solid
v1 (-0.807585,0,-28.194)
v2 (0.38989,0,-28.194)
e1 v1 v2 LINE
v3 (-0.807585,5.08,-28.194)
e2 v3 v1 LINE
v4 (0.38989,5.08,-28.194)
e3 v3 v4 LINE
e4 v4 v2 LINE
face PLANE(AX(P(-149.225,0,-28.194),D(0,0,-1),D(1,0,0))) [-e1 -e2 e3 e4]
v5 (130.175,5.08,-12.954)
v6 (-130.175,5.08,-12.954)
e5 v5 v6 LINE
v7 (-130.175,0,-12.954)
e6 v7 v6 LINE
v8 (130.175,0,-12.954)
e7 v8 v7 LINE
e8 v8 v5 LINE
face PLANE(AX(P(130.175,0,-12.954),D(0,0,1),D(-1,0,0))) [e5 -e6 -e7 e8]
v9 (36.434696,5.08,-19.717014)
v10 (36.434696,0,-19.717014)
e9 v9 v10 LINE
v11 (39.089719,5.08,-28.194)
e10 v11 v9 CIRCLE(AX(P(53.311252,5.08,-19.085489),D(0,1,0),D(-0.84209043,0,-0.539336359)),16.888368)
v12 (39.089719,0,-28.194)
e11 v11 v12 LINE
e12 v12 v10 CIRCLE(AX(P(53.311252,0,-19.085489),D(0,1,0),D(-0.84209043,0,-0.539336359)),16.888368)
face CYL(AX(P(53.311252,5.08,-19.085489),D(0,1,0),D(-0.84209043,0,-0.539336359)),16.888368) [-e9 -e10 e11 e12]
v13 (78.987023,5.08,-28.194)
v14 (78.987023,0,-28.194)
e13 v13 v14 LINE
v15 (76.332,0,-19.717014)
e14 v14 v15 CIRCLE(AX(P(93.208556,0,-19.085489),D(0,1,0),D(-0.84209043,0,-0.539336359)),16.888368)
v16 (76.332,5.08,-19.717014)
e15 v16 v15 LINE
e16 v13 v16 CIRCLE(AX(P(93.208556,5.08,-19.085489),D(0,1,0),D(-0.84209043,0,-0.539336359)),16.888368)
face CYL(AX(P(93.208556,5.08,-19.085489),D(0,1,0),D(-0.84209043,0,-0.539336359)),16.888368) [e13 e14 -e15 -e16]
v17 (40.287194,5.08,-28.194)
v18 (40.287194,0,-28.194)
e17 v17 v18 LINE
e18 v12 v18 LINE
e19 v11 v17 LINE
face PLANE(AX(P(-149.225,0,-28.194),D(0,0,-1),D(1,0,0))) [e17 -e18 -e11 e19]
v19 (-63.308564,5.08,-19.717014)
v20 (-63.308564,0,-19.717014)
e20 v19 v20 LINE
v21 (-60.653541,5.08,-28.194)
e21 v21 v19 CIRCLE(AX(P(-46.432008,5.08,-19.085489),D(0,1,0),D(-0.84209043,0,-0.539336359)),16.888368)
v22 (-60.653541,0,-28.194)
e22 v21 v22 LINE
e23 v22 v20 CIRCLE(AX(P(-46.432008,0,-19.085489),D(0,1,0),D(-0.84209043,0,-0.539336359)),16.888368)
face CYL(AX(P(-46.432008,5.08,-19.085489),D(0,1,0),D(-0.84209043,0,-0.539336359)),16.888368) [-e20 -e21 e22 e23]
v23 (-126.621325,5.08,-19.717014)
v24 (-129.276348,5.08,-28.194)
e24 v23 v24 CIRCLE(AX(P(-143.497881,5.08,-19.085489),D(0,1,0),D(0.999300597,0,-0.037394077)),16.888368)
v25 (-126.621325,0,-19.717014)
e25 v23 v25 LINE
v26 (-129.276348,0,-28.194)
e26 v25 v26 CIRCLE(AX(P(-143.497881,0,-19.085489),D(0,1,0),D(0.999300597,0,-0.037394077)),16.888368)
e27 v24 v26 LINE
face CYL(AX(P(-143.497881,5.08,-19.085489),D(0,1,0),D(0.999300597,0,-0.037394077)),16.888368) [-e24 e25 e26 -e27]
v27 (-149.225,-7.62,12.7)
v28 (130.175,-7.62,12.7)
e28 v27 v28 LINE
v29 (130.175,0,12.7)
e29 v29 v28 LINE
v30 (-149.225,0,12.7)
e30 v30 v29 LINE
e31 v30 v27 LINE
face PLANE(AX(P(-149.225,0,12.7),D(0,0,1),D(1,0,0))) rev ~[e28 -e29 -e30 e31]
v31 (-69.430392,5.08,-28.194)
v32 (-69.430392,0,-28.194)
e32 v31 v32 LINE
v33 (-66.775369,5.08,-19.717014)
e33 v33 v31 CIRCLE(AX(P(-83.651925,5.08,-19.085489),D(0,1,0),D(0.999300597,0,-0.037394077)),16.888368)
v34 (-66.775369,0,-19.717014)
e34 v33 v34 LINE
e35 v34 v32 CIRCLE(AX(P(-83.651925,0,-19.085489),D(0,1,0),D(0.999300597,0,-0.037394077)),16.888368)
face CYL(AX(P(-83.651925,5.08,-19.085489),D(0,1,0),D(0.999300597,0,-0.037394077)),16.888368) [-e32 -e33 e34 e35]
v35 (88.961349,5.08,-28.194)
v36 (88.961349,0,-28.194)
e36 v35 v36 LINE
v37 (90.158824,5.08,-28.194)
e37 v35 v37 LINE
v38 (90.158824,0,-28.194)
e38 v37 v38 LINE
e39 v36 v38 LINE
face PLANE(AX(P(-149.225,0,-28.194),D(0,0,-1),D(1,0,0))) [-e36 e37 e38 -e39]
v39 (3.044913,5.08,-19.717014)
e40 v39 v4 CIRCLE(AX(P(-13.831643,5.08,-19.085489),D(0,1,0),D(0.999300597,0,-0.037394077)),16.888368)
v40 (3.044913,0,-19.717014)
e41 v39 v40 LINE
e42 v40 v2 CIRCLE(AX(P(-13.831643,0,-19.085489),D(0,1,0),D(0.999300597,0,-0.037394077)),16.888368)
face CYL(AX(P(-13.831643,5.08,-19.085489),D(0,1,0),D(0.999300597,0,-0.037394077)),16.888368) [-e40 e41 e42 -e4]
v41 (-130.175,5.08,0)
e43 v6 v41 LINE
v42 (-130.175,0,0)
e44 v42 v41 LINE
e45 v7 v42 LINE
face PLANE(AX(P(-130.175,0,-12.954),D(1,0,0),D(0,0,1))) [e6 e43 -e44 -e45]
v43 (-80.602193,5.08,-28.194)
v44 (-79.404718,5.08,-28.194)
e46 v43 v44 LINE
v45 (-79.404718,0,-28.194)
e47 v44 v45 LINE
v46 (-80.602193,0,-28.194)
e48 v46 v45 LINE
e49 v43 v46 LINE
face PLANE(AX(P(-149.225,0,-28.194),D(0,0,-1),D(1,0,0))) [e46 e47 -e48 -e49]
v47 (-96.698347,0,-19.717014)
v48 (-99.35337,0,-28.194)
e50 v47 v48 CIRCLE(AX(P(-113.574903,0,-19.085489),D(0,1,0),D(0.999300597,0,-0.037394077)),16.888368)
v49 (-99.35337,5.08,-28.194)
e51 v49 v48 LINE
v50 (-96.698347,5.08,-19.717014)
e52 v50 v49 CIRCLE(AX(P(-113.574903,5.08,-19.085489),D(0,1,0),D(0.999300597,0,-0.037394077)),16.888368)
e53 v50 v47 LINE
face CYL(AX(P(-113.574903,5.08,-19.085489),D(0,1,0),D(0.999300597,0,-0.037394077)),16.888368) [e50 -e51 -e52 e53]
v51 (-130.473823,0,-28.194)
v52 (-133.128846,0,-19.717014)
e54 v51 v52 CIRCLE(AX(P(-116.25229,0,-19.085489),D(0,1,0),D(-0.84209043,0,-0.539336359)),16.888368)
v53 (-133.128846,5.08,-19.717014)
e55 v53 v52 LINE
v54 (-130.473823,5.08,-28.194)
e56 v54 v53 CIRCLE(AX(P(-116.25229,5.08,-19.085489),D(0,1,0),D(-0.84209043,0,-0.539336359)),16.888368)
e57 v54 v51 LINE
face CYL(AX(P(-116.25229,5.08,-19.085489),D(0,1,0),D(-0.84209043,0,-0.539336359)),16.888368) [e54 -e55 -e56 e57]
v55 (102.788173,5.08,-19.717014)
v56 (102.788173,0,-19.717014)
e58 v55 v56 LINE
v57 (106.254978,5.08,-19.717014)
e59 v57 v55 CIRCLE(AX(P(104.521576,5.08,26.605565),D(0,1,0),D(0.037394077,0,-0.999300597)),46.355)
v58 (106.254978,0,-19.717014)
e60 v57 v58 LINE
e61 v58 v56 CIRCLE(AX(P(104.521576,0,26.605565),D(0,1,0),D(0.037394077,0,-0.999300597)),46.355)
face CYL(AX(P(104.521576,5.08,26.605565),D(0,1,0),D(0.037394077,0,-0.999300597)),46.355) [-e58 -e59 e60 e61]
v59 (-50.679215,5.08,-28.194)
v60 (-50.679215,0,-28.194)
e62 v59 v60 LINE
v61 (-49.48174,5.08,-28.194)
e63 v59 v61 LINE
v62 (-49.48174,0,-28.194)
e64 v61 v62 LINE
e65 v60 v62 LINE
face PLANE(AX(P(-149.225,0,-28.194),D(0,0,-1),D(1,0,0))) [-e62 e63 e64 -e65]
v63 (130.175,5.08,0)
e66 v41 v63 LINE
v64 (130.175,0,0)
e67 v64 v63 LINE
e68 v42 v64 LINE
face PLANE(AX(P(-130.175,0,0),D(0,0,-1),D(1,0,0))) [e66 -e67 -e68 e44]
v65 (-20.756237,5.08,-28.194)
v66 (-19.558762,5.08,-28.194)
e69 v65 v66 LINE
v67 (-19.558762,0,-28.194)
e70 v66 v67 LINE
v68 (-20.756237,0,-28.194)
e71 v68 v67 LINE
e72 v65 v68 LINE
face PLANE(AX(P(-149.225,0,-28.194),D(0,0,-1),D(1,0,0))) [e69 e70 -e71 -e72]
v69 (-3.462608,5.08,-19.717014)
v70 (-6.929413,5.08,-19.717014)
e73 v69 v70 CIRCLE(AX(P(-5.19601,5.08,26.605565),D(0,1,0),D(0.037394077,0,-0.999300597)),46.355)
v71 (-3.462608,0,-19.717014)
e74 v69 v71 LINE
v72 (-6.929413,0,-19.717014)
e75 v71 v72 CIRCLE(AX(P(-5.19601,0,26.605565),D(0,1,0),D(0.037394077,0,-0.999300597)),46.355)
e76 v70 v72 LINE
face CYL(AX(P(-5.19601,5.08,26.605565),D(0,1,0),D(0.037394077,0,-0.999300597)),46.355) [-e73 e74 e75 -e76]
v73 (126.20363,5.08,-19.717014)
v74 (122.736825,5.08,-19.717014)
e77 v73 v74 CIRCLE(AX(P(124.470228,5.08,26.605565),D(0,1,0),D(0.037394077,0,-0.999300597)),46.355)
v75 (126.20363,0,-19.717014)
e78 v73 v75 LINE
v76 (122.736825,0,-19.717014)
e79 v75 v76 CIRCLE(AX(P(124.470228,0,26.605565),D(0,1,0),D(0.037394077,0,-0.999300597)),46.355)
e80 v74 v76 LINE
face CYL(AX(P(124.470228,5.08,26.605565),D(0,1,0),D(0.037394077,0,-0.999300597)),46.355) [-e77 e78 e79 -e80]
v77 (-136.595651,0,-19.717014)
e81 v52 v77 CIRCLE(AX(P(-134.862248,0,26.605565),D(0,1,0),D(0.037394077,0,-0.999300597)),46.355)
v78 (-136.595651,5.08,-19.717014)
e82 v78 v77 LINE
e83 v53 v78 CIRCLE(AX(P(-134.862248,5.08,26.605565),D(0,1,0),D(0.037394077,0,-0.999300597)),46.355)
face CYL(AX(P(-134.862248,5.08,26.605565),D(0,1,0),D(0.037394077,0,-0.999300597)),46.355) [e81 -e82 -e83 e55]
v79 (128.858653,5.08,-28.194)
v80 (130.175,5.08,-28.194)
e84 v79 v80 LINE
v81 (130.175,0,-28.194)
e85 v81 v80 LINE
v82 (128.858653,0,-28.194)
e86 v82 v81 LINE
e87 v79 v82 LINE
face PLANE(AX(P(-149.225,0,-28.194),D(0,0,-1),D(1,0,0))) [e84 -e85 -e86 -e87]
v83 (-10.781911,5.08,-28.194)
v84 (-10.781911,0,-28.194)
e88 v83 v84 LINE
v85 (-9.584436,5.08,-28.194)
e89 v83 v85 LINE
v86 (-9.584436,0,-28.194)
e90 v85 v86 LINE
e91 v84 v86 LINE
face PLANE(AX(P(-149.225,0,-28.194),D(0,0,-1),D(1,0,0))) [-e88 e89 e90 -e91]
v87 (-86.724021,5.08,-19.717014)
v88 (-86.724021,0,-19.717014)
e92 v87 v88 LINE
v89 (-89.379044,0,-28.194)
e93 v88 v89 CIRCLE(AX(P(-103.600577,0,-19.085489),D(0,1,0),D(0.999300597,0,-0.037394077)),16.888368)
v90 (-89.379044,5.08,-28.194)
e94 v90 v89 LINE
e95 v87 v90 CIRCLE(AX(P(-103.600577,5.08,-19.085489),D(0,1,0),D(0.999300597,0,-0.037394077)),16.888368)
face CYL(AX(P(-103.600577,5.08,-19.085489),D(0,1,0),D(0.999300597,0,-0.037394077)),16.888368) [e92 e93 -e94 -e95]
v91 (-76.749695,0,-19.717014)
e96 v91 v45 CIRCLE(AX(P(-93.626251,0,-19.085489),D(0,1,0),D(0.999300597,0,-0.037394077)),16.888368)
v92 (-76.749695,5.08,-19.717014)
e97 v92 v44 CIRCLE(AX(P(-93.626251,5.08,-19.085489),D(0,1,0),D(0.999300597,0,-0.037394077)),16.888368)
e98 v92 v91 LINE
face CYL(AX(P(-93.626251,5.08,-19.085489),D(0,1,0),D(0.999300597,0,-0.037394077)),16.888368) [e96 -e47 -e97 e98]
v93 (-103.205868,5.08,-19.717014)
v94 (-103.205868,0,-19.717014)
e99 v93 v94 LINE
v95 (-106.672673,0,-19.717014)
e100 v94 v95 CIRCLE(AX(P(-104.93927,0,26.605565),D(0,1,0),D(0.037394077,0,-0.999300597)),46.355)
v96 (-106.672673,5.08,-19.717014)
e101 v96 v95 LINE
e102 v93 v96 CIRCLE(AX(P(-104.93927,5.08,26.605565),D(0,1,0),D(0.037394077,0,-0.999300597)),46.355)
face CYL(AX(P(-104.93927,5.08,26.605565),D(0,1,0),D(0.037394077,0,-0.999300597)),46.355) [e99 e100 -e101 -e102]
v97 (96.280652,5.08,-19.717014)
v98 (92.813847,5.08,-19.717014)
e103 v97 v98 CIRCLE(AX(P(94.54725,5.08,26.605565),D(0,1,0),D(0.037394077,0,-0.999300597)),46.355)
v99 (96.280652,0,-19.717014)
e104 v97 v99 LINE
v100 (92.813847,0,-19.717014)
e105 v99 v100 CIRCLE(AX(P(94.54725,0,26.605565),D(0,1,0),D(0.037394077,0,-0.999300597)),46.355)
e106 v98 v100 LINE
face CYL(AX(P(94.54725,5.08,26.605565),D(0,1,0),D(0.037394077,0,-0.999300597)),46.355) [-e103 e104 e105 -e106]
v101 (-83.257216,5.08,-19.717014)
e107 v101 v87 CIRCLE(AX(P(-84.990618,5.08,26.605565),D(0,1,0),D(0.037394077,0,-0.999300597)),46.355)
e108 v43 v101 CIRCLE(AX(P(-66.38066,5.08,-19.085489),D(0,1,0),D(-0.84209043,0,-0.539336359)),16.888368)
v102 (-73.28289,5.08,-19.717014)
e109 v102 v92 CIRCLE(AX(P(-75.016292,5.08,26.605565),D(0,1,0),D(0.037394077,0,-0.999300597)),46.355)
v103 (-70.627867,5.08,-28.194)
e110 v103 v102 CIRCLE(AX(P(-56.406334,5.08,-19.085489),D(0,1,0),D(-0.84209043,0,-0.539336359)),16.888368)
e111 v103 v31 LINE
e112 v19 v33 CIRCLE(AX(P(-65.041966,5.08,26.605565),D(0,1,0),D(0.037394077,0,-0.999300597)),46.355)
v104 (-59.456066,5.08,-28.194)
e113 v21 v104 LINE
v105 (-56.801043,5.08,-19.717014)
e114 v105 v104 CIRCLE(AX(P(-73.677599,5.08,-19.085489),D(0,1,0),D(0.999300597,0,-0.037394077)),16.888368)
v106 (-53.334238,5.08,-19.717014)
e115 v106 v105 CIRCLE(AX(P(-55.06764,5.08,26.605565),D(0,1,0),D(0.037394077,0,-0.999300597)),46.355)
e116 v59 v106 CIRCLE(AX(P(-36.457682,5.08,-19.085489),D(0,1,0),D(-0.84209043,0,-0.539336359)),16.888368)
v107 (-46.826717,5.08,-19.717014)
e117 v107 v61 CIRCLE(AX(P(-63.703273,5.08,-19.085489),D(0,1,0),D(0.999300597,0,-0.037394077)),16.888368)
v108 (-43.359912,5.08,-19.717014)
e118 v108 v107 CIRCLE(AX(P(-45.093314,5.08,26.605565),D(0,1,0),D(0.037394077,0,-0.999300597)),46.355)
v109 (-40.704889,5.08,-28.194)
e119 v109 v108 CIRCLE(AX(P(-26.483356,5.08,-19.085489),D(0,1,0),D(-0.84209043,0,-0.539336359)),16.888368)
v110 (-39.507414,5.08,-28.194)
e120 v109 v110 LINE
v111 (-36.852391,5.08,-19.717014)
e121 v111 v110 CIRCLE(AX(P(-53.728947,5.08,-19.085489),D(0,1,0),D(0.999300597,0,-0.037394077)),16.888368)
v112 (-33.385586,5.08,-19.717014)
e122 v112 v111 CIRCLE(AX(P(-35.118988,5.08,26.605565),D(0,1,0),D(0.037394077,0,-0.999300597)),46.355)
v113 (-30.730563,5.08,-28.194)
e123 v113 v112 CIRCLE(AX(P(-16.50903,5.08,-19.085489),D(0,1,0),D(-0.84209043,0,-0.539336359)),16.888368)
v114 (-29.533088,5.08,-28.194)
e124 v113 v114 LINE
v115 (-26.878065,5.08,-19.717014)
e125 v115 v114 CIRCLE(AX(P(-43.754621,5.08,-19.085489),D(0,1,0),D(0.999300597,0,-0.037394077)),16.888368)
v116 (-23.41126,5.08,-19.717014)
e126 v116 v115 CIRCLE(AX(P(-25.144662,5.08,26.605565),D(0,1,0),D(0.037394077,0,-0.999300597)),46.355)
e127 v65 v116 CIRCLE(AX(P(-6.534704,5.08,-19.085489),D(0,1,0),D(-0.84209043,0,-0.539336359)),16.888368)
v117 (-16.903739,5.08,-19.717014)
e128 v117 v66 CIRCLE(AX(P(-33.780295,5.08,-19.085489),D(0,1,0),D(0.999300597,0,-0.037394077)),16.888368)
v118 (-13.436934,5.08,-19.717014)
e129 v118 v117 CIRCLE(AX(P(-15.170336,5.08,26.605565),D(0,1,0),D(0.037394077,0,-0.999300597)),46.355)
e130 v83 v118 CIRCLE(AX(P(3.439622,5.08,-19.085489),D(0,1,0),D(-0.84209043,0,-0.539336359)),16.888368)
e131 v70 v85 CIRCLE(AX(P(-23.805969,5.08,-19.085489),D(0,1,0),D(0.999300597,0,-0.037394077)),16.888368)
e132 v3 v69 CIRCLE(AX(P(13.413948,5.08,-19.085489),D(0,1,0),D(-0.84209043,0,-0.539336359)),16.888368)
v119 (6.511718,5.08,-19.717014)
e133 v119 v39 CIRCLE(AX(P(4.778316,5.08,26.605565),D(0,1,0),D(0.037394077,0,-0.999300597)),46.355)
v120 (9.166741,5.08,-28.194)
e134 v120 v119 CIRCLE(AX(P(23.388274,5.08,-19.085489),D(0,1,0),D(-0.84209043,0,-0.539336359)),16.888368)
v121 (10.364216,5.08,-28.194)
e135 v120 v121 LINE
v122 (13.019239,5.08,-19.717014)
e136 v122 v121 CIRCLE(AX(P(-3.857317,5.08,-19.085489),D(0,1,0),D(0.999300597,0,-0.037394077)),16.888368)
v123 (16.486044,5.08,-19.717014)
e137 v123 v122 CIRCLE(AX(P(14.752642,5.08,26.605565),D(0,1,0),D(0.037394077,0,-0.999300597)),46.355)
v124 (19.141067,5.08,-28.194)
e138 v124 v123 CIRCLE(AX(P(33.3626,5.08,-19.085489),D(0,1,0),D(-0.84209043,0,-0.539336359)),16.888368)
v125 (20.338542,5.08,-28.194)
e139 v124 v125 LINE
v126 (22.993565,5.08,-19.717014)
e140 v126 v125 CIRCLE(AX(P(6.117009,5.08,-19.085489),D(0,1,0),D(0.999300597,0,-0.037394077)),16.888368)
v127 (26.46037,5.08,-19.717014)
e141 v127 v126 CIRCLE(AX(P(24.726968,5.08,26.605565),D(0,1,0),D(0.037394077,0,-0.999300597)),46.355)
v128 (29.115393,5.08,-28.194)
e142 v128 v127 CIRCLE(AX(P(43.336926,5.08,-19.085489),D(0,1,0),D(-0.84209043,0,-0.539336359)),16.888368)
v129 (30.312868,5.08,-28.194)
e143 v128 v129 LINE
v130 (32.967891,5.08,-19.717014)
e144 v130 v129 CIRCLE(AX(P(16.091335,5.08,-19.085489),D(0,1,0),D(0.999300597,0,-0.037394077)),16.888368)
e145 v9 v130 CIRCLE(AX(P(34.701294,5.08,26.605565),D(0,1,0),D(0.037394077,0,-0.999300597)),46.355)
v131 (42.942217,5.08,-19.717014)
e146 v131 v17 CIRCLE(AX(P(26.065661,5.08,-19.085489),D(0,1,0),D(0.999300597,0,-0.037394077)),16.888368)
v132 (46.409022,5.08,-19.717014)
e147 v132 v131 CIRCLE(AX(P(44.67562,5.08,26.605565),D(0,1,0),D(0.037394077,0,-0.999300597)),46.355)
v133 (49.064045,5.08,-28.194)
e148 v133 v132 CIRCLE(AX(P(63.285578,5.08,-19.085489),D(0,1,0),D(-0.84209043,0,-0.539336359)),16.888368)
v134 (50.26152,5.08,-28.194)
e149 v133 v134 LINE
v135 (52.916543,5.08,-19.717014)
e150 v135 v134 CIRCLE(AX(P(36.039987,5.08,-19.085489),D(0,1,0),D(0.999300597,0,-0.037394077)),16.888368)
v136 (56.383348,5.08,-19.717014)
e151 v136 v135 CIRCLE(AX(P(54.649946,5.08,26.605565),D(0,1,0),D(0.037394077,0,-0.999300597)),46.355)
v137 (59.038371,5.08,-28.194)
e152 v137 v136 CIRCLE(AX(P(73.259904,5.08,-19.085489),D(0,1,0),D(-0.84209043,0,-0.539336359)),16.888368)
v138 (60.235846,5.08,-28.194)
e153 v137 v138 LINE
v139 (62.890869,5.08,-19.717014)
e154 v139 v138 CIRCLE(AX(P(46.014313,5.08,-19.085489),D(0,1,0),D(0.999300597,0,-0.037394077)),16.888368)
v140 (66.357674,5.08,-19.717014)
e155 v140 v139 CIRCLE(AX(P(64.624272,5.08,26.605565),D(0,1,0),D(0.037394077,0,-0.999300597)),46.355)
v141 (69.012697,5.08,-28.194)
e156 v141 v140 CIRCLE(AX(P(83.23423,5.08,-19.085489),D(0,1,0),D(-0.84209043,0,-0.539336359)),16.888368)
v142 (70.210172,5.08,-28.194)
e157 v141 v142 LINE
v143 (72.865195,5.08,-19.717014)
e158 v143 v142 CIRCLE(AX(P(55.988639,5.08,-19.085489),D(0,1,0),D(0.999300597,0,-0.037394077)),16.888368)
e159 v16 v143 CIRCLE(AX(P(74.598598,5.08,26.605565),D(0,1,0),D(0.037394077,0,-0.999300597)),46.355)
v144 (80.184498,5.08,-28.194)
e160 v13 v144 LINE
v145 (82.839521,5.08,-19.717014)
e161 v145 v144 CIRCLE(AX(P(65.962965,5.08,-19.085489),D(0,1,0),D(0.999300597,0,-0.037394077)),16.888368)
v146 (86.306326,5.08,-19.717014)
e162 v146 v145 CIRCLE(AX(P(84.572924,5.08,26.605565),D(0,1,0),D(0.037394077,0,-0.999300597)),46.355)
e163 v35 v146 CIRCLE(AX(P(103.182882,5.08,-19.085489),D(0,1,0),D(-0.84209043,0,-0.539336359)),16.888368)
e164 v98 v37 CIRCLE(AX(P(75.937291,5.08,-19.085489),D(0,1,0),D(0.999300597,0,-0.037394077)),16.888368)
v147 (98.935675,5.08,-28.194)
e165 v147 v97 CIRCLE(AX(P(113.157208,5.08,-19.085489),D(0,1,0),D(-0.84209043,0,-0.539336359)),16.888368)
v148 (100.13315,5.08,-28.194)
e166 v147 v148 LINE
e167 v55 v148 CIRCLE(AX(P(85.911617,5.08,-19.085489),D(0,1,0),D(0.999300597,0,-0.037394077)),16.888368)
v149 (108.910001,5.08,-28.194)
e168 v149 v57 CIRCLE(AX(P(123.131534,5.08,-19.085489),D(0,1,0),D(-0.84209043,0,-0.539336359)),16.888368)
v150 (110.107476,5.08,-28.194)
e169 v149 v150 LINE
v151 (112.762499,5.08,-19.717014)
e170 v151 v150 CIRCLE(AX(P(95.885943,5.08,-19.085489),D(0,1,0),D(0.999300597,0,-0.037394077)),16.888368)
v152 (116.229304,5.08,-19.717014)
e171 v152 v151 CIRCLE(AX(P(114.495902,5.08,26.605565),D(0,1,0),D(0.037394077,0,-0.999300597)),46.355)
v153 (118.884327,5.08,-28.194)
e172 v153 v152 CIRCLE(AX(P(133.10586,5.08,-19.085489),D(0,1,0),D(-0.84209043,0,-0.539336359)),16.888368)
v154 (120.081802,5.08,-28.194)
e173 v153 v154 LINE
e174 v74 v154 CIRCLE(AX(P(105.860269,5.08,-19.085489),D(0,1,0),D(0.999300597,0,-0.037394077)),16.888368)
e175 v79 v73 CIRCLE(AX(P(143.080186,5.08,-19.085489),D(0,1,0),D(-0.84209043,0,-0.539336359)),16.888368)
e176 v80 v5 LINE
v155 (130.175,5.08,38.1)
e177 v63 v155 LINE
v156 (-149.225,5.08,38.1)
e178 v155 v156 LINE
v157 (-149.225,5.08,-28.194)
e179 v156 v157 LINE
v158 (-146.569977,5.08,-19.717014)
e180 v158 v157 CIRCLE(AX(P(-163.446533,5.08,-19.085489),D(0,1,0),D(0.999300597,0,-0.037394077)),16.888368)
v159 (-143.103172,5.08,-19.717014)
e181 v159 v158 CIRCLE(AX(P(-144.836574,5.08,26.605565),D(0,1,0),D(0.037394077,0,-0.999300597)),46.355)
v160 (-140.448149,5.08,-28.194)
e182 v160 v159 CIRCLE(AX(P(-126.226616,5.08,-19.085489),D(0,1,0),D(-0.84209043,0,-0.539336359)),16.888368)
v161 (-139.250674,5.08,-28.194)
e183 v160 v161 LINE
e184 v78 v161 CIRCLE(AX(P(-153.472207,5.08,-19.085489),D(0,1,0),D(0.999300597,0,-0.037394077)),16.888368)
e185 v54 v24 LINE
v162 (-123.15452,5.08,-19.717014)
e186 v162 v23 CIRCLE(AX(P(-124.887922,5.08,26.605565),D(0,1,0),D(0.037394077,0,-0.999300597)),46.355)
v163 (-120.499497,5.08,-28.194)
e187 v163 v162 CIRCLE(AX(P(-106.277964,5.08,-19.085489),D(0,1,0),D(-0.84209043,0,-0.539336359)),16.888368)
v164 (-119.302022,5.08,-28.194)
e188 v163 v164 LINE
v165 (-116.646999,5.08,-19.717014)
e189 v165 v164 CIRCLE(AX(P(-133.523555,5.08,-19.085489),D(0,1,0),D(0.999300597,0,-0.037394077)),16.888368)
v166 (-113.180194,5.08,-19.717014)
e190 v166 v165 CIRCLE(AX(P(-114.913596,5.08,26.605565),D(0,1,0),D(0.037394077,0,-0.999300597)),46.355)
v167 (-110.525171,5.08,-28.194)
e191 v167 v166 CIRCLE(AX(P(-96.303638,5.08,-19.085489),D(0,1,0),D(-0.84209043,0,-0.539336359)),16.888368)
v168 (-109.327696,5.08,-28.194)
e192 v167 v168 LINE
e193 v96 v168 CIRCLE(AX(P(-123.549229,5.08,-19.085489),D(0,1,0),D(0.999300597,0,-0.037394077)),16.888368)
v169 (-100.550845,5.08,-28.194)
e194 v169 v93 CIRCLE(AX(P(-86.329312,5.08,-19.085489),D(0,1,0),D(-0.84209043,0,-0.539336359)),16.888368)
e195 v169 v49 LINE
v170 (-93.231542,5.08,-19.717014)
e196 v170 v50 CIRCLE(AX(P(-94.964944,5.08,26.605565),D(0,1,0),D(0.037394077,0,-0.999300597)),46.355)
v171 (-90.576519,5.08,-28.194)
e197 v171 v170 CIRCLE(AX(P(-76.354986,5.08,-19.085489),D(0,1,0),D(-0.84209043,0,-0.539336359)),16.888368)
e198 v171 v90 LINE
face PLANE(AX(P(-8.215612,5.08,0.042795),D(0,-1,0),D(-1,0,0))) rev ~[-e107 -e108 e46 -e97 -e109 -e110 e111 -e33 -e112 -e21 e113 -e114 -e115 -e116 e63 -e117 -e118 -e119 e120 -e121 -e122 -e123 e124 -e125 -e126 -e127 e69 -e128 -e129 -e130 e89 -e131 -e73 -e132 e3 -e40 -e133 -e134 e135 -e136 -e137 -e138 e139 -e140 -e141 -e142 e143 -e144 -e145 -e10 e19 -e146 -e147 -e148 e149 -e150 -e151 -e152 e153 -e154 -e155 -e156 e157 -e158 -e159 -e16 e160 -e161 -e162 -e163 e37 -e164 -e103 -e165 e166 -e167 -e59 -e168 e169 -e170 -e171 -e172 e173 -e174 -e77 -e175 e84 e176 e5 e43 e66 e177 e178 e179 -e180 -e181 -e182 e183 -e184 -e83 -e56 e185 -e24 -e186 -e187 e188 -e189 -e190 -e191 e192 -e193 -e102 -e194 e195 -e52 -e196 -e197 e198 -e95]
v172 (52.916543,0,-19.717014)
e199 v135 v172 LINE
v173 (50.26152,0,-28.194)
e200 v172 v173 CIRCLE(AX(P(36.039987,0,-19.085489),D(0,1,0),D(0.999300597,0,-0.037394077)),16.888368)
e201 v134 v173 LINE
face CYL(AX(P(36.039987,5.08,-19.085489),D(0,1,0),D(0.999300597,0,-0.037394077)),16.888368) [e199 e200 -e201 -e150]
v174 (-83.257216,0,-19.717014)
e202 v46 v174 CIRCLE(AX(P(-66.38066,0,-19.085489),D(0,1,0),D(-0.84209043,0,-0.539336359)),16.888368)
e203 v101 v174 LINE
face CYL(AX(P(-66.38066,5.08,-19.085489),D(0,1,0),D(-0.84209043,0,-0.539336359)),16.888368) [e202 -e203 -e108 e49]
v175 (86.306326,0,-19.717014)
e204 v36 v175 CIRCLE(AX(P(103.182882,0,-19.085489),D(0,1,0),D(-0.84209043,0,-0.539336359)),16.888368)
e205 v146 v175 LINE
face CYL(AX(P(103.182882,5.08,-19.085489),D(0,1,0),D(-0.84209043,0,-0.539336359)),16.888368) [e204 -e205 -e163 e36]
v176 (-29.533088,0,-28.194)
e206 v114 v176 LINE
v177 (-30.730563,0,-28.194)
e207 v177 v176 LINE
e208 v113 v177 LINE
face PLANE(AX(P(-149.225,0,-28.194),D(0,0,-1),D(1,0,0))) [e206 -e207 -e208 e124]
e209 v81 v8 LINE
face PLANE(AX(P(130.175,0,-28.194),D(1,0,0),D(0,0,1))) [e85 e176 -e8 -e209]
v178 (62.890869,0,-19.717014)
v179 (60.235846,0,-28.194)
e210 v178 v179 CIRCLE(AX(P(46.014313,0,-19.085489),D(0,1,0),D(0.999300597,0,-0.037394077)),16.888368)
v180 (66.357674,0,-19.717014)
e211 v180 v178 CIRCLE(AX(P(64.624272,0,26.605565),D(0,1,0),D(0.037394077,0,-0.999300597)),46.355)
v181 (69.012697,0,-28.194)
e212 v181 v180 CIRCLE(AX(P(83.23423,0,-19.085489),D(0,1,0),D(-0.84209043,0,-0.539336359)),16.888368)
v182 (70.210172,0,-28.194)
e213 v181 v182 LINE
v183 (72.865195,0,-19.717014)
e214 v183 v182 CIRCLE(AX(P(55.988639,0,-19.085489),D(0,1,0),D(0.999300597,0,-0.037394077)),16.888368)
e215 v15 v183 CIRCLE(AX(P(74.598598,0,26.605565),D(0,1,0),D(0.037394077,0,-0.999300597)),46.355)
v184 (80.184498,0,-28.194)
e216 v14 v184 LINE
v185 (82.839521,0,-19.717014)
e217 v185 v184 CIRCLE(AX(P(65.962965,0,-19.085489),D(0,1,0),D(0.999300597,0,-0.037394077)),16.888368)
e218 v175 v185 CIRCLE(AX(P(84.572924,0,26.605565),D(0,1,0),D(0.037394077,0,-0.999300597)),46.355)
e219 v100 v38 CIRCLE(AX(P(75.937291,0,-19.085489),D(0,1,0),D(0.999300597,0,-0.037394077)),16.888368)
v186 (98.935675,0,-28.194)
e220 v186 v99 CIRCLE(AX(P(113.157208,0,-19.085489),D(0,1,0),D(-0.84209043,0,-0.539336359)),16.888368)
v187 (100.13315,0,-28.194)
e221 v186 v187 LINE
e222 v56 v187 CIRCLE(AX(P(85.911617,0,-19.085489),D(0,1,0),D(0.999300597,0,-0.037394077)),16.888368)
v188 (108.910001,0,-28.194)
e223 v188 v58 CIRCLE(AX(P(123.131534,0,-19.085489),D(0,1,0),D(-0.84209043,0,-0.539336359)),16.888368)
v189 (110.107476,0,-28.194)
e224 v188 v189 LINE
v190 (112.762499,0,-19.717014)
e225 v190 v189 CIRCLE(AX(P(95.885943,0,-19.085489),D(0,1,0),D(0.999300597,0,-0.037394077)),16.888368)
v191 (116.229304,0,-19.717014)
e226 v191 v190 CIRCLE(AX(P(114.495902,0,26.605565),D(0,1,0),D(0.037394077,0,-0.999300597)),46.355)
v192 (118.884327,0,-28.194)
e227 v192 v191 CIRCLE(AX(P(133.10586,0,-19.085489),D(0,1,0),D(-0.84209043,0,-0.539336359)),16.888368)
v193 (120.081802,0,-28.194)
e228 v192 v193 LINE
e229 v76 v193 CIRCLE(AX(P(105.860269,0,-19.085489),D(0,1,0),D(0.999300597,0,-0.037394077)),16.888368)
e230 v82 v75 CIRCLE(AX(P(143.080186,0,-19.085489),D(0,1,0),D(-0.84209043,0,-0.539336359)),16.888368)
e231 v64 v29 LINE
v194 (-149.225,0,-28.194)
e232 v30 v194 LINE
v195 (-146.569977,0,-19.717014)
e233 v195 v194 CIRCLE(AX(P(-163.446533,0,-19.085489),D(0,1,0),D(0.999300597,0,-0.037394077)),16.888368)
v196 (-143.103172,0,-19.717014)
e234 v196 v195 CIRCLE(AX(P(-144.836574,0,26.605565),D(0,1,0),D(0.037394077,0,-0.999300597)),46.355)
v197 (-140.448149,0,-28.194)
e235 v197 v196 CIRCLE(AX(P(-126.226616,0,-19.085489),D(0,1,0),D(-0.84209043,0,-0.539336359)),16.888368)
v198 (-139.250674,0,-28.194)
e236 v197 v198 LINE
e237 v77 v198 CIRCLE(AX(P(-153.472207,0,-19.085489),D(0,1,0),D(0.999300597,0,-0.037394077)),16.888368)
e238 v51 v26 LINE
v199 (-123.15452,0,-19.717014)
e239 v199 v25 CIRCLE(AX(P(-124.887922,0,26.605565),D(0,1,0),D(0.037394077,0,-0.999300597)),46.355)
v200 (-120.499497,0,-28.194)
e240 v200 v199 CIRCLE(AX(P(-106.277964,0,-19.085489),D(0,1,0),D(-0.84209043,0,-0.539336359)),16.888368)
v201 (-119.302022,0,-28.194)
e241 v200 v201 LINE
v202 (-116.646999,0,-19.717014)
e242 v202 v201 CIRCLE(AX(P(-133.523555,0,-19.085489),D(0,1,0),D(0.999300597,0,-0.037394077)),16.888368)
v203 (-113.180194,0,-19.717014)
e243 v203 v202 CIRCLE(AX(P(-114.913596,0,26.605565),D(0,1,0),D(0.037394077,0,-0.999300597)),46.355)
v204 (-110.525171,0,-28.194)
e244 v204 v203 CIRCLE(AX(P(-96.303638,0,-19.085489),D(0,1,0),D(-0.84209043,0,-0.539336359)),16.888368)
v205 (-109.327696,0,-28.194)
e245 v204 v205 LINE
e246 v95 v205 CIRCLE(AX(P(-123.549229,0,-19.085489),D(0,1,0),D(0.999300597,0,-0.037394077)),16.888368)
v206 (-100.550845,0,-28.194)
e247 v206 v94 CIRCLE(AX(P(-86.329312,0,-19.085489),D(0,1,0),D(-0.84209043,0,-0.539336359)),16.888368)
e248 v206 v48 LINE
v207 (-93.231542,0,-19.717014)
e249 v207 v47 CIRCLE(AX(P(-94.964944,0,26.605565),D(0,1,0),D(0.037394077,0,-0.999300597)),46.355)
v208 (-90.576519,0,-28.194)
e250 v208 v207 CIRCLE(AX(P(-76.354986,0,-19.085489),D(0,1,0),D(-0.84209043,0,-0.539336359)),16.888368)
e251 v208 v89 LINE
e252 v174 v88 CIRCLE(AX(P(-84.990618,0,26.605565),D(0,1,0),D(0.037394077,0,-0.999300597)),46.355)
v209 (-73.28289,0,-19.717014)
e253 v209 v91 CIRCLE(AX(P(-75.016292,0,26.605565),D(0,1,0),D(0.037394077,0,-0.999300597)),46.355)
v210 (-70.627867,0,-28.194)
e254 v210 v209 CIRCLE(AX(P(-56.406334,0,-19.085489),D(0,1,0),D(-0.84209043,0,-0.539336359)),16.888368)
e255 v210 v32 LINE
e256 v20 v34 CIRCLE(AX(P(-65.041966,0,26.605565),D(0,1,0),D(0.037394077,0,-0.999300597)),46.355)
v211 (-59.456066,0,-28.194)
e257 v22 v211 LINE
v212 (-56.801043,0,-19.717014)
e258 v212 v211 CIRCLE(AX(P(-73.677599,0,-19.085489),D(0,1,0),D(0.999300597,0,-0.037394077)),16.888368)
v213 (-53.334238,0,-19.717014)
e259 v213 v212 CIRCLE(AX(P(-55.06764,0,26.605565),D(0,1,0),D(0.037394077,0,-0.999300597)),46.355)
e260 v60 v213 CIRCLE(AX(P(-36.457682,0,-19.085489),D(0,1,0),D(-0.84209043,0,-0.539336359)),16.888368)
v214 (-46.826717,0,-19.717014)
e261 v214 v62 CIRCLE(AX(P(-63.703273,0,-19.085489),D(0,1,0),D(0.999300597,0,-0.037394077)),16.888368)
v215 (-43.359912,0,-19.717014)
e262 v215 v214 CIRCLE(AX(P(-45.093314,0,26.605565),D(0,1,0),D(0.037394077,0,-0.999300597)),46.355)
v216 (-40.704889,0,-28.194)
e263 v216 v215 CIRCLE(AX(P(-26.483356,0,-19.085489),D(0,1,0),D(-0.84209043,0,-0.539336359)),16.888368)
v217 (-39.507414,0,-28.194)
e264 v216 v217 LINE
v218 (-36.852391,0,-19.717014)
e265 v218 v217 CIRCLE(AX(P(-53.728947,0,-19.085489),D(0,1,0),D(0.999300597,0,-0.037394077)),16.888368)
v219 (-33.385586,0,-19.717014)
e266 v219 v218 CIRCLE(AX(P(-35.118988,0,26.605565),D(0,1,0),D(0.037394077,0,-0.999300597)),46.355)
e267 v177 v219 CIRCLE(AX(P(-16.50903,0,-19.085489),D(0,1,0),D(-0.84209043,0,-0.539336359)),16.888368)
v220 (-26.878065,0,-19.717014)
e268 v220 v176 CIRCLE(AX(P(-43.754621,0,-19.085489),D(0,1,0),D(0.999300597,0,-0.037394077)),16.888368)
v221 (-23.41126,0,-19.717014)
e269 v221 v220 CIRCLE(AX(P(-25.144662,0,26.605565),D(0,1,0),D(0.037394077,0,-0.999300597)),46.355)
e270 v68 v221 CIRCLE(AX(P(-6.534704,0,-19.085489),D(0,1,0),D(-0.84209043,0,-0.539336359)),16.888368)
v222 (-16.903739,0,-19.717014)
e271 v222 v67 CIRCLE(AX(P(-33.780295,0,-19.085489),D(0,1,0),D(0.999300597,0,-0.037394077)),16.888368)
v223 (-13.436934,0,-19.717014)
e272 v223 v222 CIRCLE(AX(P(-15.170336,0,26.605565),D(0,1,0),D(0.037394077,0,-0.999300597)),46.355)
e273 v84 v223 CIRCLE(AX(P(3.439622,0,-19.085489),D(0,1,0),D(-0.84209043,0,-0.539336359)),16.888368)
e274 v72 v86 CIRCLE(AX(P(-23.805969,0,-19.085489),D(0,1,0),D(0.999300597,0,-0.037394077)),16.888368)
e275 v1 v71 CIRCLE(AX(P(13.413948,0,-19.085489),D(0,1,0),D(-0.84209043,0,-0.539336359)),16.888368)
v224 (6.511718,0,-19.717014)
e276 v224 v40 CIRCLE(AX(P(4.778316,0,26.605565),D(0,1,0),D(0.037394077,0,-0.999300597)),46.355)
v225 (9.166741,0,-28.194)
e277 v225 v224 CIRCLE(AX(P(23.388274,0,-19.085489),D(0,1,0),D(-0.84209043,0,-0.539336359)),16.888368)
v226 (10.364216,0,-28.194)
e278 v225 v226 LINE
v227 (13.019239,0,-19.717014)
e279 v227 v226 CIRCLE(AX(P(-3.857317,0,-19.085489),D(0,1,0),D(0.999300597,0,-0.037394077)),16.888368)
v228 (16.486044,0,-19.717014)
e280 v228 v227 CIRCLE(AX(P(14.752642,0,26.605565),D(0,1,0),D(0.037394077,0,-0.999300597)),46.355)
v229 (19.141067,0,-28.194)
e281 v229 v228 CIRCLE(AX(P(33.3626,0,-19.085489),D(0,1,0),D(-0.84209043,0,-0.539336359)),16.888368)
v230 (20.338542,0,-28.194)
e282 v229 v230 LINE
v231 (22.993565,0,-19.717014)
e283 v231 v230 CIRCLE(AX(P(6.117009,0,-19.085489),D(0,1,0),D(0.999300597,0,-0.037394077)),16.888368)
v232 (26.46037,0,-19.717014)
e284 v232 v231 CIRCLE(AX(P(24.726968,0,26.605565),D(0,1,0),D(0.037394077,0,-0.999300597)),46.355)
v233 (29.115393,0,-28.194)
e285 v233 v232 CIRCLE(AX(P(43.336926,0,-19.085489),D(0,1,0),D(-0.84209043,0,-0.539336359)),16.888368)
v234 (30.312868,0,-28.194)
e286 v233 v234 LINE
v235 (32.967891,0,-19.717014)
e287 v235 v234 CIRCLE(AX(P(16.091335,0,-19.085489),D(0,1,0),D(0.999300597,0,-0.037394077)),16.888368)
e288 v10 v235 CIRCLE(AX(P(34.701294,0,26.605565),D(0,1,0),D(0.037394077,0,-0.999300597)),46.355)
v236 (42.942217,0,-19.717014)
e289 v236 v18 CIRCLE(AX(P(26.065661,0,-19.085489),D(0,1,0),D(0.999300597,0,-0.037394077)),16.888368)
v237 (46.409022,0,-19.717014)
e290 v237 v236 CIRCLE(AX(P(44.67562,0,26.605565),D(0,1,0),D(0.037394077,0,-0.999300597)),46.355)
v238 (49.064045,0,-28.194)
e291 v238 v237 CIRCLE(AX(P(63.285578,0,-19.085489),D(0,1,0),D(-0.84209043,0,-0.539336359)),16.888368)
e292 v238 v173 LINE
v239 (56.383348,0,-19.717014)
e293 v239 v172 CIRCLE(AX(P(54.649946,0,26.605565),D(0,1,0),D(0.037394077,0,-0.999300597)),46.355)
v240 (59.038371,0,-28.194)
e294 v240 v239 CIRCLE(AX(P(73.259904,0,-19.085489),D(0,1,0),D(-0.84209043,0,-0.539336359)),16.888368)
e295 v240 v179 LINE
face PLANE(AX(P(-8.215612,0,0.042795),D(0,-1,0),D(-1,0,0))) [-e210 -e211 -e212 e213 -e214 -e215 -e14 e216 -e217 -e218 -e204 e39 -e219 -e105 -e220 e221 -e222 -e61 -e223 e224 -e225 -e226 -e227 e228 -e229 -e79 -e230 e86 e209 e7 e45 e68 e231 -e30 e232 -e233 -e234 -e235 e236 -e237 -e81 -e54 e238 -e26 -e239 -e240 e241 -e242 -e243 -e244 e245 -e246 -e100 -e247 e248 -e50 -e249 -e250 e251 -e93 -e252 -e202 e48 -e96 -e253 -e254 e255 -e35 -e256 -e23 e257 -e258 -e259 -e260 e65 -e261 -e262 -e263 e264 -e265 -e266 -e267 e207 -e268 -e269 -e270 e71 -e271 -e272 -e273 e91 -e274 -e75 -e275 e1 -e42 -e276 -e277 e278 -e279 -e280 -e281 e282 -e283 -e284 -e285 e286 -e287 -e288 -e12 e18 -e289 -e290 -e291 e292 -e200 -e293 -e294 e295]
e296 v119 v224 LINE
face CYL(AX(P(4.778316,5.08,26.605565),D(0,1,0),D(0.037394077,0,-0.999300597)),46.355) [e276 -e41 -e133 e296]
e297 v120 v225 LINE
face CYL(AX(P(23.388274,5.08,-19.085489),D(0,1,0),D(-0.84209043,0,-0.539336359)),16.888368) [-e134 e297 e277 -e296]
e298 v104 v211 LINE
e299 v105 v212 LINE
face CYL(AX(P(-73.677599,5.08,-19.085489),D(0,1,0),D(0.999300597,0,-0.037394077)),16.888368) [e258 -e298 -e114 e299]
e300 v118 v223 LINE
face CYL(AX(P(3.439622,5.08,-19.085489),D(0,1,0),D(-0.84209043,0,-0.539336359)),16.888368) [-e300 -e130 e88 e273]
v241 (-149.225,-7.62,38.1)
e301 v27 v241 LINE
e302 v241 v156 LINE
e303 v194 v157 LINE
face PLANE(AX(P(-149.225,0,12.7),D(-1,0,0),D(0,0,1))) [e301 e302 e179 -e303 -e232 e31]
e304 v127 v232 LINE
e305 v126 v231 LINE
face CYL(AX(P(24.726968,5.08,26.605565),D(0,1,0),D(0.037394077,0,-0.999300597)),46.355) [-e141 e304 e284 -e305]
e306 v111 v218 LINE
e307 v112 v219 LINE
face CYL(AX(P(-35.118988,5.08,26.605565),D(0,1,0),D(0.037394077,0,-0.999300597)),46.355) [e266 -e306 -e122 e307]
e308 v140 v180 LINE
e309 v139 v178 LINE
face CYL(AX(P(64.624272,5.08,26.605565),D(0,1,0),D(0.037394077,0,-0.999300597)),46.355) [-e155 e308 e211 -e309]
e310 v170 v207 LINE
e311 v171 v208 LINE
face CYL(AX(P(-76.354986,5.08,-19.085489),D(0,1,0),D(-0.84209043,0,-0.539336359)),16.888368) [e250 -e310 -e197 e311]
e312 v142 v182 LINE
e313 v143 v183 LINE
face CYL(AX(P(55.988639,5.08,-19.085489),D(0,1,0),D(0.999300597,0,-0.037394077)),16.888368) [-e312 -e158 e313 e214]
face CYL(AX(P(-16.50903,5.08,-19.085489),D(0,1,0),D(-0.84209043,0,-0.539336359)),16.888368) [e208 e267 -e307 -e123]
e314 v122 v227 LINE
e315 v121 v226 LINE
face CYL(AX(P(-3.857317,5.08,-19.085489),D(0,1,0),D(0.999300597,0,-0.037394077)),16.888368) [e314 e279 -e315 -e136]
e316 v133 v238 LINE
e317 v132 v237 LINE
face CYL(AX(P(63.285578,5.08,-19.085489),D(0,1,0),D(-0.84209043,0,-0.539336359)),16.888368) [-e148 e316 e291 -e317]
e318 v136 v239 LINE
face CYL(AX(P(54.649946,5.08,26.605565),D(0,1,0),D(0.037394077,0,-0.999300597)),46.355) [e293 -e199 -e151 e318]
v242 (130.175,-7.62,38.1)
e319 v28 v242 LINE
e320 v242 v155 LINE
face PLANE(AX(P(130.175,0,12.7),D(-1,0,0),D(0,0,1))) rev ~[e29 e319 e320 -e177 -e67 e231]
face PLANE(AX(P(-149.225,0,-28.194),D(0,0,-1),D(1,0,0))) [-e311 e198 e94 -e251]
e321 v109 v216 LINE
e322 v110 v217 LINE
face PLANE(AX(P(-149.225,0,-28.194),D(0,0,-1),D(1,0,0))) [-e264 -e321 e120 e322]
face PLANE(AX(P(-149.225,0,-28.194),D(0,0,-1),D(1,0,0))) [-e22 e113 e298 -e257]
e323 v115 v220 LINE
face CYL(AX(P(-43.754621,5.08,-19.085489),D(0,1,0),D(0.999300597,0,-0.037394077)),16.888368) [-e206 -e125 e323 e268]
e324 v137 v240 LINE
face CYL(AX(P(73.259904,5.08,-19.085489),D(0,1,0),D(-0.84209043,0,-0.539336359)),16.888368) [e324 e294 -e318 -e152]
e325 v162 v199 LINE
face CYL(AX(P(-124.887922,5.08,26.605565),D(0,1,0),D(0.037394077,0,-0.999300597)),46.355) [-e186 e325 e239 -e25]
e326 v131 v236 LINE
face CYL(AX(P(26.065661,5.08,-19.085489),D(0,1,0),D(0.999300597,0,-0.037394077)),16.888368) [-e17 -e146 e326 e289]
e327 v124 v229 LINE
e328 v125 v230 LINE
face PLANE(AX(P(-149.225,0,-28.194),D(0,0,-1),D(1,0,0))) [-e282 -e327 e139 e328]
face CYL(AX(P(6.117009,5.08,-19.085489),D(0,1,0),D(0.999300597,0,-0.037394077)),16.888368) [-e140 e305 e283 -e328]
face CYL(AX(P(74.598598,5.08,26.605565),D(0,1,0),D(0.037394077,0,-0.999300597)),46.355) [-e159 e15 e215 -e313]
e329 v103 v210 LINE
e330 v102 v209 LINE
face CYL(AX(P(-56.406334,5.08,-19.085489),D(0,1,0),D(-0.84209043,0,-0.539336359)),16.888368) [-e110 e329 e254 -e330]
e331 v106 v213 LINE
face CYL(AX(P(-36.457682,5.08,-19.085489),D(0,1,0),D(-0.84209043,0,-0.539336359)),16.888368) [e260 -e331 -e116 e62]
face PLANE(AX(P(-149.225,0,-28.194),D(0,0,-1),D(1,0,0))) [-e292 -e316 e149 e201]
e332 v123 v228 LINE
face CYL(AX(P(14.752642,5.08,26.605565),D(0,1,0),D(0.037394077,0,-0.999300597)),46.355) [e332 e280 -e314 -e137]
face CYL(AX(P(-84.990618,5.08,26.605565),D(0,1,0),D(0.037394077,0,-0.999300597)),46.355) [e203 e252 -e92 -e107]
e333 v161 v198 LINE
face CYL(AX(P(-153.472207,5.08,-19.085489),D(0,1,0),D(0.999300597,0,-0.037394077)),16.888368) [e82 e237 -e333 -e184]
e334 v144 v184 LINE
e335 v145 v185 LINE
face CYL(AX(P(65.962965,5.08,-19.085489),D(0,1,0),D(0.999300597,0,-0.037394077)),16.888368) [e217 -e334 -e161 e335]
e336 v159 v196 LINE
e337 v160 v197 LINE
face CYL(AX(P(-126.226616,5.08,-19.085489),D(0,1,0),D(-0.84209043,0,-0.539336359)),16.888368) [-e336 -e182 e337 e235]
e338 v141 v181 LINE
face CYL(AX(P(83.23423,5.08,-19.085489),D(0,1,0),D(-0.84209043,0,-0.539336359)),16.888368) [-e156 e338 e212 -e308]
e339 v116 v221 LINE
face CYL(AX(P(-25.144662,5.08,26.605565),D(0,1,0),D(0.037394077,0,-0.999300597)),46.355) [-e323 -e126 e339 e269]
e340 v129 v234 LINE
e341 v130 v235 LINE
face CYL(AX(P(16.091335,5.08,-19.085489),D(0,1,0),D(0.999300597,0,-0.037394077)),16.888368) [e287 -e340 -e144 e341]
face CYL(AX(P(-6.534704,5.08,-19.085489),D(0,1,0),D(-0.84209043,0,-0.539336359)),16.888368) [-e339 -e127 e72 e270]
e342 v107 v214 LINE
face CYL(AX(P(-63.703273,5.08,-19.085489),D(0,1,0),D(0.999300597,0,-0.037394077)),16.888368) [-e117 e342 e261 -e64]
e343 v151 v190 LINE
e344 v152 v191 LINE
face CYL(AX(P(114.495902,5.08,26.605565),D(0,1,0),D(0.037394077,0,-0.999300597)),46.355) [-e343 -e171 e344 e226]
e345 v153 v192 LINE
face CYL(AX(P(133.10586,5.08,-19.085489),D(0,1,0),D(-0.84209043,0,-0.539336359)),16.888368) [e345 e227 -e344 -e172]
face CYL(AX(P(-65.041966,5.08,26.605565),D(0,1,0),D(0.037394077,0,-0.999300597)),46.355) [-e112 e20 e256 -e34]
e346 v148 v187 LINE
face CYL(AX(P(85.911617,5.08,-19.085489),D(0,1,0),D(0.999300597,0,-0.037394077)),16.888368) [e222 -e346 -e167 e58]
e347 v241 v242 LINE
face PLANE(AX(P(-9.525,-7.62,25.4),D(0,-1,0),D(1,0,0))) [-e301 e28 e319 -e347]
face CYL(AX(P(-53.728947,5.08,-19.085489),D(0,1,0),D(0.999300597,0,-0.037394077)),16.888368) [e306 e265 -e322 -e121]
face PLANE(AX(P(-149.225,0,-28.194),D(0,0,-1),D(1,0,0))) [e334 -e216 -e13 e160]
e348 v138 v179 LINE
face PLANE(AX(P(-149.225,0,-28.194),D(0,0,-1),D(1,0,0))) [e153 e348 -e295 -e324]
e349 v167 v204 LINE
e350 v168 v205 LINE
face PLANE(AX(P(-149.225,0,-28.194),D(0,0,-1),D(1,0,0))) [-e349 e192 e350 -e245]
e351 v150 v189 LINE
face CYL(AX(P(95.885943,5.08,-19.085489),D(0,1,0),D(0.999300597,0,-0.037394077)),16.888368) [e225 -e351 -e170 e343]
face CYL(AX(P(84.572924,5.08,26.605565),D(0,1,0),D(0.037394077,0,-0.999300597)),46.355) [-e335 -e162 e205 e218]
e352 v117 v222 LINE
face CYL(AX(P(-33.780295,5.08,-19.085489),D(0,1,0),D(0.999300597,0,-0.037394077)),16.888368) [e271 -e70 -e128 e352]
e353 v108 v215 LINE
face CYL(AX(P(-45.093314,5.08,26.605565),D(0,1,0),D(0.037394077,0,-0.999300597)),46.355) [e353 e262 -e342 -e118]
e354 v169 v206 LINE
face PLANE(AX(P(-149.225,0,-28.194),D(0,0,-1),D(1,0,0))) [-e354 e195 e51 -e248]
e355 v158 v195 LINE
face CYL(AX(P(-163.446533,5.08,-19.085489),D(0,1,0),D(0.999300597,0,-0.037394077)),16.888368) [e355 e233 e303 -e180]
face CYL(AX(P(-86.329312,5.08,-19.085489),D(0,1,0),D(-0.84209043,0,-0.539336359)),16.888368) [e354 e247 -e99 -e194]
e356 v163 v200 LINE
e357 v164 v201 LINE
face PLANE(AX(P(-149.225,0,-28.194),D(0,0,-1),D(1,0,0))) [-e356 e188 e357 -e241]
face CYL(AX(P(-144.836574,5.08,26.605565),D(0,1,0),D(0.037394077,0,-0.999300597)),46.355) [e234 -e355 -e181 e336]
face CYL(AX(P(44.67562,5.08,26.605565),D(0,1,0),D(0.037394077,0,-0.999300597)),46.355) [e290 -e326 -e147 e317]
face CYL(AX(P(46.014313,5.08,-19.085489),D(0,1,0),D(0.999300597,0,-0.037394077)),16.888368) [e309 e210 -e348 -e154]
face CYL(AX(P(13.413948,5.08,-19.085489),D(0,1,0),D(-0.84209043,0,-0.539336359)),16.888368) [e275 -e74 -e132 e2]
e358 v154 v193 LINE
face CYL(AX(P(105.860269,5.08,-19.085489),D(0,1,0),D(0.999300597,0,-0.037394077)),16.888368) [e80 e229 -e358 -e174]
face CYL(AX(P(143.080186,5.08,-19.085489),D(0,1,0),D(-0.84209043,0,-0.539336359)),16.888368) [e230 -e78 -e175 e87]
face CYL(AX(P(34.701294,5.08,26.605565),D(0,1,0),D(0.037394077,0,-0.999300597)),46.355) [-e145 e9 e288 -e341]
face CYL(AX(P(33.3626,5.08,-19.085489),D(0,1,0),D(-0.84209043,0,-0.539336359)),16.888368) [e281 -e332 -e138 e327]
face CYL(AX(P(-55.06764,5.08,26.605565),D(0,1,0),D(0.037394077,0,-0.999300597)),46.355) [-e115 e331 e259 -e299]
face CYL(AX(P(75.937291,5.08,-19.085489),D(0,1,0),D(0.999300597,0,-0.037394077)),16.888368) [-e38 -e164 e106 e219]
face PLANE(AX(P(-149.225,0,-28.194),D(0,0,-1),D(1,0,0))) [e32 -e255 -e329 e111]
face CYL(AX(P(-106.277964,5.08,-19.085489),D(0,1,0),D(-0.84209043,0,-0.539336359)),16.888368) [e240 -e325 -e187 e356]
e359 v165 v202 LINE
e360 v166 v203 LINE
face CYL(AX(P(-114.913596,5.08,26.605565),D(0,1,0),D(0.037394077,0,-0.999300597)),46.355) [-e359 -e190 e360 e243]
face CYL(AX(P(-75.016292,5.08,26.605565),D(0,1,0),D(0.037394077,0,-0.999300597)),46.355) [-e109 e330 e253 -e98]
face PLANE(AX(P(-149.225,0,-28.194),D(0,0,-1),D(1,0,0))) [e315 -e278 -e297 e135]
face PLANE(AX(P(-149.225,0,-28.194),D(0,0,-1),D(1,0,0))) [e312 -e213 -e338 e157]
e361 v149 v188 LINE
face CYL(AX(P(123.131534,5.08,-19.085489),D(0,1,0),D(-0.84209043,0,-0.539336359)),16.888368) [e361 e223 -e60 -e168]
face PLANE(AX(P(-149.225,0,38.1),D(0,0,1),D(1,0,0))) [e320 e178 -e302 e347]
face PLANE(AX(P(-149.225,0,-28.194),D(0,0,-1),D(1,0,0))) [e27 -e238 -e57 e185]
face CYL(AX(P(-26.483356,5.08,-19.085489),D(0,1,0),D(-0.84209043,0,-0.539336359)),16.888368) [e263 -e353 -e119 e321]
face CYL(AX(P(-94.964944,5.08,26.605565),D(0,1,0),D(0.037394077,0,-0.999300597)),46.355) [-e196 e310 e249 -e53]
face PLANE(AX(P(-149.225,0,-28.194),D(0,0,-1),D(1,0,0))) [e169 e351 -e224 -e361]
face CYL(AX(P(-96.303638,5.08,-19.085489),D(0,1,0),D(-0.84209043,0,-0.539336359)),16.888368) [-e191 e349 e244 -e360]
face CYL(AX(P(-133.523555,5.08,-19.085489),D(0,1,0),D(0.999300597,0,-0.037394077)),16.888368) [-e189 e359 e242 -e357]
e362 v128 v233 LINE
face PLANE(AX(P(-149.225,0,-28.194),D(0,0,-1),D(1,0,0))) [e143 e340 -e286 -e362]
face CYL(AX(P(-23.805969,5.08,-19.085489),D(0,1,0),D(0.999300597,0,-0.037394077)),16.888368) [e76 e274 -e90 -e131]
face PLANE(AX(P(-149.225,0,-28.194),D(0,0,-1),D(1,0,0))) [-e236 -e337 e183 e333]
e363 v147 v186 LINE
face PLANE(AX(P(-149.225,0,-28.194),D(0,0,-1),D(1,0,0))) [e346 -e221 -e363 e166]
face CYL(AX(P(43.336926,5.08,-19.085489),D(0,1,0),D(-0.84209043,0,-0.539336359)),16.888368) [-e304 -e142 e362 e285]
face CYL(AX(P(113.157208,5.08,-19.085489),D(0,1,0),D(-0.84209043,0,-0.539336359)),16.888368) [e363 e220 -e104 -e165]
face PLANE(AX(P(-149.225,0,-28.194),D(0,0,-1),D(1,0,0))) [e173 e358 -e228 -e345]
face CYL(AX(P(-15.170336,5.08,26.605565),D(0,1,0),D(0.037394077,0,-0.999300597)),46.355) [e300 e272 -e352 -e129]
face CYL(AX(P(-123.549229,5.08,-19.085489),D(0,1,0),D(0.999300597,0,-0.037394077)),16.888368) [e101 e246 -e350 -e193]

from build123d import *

# Parameters (mm, degrees)
BOSS_EXTRUDE1_DEPTH = 5.08
CUT_EXTRUDE1_DEPTH  = 155.095804696
LPATTERN1_COUNT     = 28
LPATTERN1_PITCH     = 9.974326
SKETCH4_W           = 279.4
SKETCH4_H           = 25.4
BOSS_EXTRUDE2_DEPTH = 7.62


with BuildPart() as part:
    # Sketch1 → Boss-Extrude1 (new body)
    with BuildSketch(Plane(origin=(0, 0, 0), x_dir=(1, 0, 0), z_dir=(0, 1, 0))):
        Polygon((-149.225, -38.1), (-149.225, 28.194), (130.175, 28.194), (130.175, 12.954), (-130.175, 12.954), (-130.175, 0), (130.175, 0), (130.175, -38.1), align=None)
    extrude(amount=BOSS_EXTRUDE1_DEPTH)

    # Sketch2 → Cut-Extrude1 (cut, through all)
    with BuildSketch(Plane(origin=(0, 5.08, 0), x_dir=(1, 0, 0), z_dir=(0, 1, 0))):
        with BuildLine():
            ThreePointArc((-146.56997683, 19.717013973), (-147.330155915, 24.13319761), (-149.225, 28.194))
            ThreePointArc((-149.225, 28.194), (-144.836574415, 28.369434802), (-140.448148829, 28.194))
            ThreePointArc((-140.448148829, 28.194), (-142.342992915, 24.13319761), (-143.103171999, 19.717013973))
            ThreePointArc((-143.103171999, 19.717013973), (-144.836574415, 19.749434802), (-146.56997683, 19.717013973))
        make_face()
    cut_extrude1 = extrude(amount=-CUT_EXTRUDE1_DEPTH, mode=Mode.SUBTRACT)

    # LPattern1: Cut-Extrude1 ×28
    with Locations(*[(i * LPATTERN1_PITCH, 0, 0) for i in range(1, LPATTERN1_COUNT)]):
        add(cut_extrude1, mode=Mode.SUBTRACT)

    # Sketch4 → Boss-Extrude2 (add)
    with BuildSketch(Plane.XZ):
        with Locations((-9.525, 25.4)):
            Rectangle(SKETCH4_W, SKETCH4_H)
    extrude(amount=BOSS_EXTRUDE2_DEPTH)


solid = part.part
